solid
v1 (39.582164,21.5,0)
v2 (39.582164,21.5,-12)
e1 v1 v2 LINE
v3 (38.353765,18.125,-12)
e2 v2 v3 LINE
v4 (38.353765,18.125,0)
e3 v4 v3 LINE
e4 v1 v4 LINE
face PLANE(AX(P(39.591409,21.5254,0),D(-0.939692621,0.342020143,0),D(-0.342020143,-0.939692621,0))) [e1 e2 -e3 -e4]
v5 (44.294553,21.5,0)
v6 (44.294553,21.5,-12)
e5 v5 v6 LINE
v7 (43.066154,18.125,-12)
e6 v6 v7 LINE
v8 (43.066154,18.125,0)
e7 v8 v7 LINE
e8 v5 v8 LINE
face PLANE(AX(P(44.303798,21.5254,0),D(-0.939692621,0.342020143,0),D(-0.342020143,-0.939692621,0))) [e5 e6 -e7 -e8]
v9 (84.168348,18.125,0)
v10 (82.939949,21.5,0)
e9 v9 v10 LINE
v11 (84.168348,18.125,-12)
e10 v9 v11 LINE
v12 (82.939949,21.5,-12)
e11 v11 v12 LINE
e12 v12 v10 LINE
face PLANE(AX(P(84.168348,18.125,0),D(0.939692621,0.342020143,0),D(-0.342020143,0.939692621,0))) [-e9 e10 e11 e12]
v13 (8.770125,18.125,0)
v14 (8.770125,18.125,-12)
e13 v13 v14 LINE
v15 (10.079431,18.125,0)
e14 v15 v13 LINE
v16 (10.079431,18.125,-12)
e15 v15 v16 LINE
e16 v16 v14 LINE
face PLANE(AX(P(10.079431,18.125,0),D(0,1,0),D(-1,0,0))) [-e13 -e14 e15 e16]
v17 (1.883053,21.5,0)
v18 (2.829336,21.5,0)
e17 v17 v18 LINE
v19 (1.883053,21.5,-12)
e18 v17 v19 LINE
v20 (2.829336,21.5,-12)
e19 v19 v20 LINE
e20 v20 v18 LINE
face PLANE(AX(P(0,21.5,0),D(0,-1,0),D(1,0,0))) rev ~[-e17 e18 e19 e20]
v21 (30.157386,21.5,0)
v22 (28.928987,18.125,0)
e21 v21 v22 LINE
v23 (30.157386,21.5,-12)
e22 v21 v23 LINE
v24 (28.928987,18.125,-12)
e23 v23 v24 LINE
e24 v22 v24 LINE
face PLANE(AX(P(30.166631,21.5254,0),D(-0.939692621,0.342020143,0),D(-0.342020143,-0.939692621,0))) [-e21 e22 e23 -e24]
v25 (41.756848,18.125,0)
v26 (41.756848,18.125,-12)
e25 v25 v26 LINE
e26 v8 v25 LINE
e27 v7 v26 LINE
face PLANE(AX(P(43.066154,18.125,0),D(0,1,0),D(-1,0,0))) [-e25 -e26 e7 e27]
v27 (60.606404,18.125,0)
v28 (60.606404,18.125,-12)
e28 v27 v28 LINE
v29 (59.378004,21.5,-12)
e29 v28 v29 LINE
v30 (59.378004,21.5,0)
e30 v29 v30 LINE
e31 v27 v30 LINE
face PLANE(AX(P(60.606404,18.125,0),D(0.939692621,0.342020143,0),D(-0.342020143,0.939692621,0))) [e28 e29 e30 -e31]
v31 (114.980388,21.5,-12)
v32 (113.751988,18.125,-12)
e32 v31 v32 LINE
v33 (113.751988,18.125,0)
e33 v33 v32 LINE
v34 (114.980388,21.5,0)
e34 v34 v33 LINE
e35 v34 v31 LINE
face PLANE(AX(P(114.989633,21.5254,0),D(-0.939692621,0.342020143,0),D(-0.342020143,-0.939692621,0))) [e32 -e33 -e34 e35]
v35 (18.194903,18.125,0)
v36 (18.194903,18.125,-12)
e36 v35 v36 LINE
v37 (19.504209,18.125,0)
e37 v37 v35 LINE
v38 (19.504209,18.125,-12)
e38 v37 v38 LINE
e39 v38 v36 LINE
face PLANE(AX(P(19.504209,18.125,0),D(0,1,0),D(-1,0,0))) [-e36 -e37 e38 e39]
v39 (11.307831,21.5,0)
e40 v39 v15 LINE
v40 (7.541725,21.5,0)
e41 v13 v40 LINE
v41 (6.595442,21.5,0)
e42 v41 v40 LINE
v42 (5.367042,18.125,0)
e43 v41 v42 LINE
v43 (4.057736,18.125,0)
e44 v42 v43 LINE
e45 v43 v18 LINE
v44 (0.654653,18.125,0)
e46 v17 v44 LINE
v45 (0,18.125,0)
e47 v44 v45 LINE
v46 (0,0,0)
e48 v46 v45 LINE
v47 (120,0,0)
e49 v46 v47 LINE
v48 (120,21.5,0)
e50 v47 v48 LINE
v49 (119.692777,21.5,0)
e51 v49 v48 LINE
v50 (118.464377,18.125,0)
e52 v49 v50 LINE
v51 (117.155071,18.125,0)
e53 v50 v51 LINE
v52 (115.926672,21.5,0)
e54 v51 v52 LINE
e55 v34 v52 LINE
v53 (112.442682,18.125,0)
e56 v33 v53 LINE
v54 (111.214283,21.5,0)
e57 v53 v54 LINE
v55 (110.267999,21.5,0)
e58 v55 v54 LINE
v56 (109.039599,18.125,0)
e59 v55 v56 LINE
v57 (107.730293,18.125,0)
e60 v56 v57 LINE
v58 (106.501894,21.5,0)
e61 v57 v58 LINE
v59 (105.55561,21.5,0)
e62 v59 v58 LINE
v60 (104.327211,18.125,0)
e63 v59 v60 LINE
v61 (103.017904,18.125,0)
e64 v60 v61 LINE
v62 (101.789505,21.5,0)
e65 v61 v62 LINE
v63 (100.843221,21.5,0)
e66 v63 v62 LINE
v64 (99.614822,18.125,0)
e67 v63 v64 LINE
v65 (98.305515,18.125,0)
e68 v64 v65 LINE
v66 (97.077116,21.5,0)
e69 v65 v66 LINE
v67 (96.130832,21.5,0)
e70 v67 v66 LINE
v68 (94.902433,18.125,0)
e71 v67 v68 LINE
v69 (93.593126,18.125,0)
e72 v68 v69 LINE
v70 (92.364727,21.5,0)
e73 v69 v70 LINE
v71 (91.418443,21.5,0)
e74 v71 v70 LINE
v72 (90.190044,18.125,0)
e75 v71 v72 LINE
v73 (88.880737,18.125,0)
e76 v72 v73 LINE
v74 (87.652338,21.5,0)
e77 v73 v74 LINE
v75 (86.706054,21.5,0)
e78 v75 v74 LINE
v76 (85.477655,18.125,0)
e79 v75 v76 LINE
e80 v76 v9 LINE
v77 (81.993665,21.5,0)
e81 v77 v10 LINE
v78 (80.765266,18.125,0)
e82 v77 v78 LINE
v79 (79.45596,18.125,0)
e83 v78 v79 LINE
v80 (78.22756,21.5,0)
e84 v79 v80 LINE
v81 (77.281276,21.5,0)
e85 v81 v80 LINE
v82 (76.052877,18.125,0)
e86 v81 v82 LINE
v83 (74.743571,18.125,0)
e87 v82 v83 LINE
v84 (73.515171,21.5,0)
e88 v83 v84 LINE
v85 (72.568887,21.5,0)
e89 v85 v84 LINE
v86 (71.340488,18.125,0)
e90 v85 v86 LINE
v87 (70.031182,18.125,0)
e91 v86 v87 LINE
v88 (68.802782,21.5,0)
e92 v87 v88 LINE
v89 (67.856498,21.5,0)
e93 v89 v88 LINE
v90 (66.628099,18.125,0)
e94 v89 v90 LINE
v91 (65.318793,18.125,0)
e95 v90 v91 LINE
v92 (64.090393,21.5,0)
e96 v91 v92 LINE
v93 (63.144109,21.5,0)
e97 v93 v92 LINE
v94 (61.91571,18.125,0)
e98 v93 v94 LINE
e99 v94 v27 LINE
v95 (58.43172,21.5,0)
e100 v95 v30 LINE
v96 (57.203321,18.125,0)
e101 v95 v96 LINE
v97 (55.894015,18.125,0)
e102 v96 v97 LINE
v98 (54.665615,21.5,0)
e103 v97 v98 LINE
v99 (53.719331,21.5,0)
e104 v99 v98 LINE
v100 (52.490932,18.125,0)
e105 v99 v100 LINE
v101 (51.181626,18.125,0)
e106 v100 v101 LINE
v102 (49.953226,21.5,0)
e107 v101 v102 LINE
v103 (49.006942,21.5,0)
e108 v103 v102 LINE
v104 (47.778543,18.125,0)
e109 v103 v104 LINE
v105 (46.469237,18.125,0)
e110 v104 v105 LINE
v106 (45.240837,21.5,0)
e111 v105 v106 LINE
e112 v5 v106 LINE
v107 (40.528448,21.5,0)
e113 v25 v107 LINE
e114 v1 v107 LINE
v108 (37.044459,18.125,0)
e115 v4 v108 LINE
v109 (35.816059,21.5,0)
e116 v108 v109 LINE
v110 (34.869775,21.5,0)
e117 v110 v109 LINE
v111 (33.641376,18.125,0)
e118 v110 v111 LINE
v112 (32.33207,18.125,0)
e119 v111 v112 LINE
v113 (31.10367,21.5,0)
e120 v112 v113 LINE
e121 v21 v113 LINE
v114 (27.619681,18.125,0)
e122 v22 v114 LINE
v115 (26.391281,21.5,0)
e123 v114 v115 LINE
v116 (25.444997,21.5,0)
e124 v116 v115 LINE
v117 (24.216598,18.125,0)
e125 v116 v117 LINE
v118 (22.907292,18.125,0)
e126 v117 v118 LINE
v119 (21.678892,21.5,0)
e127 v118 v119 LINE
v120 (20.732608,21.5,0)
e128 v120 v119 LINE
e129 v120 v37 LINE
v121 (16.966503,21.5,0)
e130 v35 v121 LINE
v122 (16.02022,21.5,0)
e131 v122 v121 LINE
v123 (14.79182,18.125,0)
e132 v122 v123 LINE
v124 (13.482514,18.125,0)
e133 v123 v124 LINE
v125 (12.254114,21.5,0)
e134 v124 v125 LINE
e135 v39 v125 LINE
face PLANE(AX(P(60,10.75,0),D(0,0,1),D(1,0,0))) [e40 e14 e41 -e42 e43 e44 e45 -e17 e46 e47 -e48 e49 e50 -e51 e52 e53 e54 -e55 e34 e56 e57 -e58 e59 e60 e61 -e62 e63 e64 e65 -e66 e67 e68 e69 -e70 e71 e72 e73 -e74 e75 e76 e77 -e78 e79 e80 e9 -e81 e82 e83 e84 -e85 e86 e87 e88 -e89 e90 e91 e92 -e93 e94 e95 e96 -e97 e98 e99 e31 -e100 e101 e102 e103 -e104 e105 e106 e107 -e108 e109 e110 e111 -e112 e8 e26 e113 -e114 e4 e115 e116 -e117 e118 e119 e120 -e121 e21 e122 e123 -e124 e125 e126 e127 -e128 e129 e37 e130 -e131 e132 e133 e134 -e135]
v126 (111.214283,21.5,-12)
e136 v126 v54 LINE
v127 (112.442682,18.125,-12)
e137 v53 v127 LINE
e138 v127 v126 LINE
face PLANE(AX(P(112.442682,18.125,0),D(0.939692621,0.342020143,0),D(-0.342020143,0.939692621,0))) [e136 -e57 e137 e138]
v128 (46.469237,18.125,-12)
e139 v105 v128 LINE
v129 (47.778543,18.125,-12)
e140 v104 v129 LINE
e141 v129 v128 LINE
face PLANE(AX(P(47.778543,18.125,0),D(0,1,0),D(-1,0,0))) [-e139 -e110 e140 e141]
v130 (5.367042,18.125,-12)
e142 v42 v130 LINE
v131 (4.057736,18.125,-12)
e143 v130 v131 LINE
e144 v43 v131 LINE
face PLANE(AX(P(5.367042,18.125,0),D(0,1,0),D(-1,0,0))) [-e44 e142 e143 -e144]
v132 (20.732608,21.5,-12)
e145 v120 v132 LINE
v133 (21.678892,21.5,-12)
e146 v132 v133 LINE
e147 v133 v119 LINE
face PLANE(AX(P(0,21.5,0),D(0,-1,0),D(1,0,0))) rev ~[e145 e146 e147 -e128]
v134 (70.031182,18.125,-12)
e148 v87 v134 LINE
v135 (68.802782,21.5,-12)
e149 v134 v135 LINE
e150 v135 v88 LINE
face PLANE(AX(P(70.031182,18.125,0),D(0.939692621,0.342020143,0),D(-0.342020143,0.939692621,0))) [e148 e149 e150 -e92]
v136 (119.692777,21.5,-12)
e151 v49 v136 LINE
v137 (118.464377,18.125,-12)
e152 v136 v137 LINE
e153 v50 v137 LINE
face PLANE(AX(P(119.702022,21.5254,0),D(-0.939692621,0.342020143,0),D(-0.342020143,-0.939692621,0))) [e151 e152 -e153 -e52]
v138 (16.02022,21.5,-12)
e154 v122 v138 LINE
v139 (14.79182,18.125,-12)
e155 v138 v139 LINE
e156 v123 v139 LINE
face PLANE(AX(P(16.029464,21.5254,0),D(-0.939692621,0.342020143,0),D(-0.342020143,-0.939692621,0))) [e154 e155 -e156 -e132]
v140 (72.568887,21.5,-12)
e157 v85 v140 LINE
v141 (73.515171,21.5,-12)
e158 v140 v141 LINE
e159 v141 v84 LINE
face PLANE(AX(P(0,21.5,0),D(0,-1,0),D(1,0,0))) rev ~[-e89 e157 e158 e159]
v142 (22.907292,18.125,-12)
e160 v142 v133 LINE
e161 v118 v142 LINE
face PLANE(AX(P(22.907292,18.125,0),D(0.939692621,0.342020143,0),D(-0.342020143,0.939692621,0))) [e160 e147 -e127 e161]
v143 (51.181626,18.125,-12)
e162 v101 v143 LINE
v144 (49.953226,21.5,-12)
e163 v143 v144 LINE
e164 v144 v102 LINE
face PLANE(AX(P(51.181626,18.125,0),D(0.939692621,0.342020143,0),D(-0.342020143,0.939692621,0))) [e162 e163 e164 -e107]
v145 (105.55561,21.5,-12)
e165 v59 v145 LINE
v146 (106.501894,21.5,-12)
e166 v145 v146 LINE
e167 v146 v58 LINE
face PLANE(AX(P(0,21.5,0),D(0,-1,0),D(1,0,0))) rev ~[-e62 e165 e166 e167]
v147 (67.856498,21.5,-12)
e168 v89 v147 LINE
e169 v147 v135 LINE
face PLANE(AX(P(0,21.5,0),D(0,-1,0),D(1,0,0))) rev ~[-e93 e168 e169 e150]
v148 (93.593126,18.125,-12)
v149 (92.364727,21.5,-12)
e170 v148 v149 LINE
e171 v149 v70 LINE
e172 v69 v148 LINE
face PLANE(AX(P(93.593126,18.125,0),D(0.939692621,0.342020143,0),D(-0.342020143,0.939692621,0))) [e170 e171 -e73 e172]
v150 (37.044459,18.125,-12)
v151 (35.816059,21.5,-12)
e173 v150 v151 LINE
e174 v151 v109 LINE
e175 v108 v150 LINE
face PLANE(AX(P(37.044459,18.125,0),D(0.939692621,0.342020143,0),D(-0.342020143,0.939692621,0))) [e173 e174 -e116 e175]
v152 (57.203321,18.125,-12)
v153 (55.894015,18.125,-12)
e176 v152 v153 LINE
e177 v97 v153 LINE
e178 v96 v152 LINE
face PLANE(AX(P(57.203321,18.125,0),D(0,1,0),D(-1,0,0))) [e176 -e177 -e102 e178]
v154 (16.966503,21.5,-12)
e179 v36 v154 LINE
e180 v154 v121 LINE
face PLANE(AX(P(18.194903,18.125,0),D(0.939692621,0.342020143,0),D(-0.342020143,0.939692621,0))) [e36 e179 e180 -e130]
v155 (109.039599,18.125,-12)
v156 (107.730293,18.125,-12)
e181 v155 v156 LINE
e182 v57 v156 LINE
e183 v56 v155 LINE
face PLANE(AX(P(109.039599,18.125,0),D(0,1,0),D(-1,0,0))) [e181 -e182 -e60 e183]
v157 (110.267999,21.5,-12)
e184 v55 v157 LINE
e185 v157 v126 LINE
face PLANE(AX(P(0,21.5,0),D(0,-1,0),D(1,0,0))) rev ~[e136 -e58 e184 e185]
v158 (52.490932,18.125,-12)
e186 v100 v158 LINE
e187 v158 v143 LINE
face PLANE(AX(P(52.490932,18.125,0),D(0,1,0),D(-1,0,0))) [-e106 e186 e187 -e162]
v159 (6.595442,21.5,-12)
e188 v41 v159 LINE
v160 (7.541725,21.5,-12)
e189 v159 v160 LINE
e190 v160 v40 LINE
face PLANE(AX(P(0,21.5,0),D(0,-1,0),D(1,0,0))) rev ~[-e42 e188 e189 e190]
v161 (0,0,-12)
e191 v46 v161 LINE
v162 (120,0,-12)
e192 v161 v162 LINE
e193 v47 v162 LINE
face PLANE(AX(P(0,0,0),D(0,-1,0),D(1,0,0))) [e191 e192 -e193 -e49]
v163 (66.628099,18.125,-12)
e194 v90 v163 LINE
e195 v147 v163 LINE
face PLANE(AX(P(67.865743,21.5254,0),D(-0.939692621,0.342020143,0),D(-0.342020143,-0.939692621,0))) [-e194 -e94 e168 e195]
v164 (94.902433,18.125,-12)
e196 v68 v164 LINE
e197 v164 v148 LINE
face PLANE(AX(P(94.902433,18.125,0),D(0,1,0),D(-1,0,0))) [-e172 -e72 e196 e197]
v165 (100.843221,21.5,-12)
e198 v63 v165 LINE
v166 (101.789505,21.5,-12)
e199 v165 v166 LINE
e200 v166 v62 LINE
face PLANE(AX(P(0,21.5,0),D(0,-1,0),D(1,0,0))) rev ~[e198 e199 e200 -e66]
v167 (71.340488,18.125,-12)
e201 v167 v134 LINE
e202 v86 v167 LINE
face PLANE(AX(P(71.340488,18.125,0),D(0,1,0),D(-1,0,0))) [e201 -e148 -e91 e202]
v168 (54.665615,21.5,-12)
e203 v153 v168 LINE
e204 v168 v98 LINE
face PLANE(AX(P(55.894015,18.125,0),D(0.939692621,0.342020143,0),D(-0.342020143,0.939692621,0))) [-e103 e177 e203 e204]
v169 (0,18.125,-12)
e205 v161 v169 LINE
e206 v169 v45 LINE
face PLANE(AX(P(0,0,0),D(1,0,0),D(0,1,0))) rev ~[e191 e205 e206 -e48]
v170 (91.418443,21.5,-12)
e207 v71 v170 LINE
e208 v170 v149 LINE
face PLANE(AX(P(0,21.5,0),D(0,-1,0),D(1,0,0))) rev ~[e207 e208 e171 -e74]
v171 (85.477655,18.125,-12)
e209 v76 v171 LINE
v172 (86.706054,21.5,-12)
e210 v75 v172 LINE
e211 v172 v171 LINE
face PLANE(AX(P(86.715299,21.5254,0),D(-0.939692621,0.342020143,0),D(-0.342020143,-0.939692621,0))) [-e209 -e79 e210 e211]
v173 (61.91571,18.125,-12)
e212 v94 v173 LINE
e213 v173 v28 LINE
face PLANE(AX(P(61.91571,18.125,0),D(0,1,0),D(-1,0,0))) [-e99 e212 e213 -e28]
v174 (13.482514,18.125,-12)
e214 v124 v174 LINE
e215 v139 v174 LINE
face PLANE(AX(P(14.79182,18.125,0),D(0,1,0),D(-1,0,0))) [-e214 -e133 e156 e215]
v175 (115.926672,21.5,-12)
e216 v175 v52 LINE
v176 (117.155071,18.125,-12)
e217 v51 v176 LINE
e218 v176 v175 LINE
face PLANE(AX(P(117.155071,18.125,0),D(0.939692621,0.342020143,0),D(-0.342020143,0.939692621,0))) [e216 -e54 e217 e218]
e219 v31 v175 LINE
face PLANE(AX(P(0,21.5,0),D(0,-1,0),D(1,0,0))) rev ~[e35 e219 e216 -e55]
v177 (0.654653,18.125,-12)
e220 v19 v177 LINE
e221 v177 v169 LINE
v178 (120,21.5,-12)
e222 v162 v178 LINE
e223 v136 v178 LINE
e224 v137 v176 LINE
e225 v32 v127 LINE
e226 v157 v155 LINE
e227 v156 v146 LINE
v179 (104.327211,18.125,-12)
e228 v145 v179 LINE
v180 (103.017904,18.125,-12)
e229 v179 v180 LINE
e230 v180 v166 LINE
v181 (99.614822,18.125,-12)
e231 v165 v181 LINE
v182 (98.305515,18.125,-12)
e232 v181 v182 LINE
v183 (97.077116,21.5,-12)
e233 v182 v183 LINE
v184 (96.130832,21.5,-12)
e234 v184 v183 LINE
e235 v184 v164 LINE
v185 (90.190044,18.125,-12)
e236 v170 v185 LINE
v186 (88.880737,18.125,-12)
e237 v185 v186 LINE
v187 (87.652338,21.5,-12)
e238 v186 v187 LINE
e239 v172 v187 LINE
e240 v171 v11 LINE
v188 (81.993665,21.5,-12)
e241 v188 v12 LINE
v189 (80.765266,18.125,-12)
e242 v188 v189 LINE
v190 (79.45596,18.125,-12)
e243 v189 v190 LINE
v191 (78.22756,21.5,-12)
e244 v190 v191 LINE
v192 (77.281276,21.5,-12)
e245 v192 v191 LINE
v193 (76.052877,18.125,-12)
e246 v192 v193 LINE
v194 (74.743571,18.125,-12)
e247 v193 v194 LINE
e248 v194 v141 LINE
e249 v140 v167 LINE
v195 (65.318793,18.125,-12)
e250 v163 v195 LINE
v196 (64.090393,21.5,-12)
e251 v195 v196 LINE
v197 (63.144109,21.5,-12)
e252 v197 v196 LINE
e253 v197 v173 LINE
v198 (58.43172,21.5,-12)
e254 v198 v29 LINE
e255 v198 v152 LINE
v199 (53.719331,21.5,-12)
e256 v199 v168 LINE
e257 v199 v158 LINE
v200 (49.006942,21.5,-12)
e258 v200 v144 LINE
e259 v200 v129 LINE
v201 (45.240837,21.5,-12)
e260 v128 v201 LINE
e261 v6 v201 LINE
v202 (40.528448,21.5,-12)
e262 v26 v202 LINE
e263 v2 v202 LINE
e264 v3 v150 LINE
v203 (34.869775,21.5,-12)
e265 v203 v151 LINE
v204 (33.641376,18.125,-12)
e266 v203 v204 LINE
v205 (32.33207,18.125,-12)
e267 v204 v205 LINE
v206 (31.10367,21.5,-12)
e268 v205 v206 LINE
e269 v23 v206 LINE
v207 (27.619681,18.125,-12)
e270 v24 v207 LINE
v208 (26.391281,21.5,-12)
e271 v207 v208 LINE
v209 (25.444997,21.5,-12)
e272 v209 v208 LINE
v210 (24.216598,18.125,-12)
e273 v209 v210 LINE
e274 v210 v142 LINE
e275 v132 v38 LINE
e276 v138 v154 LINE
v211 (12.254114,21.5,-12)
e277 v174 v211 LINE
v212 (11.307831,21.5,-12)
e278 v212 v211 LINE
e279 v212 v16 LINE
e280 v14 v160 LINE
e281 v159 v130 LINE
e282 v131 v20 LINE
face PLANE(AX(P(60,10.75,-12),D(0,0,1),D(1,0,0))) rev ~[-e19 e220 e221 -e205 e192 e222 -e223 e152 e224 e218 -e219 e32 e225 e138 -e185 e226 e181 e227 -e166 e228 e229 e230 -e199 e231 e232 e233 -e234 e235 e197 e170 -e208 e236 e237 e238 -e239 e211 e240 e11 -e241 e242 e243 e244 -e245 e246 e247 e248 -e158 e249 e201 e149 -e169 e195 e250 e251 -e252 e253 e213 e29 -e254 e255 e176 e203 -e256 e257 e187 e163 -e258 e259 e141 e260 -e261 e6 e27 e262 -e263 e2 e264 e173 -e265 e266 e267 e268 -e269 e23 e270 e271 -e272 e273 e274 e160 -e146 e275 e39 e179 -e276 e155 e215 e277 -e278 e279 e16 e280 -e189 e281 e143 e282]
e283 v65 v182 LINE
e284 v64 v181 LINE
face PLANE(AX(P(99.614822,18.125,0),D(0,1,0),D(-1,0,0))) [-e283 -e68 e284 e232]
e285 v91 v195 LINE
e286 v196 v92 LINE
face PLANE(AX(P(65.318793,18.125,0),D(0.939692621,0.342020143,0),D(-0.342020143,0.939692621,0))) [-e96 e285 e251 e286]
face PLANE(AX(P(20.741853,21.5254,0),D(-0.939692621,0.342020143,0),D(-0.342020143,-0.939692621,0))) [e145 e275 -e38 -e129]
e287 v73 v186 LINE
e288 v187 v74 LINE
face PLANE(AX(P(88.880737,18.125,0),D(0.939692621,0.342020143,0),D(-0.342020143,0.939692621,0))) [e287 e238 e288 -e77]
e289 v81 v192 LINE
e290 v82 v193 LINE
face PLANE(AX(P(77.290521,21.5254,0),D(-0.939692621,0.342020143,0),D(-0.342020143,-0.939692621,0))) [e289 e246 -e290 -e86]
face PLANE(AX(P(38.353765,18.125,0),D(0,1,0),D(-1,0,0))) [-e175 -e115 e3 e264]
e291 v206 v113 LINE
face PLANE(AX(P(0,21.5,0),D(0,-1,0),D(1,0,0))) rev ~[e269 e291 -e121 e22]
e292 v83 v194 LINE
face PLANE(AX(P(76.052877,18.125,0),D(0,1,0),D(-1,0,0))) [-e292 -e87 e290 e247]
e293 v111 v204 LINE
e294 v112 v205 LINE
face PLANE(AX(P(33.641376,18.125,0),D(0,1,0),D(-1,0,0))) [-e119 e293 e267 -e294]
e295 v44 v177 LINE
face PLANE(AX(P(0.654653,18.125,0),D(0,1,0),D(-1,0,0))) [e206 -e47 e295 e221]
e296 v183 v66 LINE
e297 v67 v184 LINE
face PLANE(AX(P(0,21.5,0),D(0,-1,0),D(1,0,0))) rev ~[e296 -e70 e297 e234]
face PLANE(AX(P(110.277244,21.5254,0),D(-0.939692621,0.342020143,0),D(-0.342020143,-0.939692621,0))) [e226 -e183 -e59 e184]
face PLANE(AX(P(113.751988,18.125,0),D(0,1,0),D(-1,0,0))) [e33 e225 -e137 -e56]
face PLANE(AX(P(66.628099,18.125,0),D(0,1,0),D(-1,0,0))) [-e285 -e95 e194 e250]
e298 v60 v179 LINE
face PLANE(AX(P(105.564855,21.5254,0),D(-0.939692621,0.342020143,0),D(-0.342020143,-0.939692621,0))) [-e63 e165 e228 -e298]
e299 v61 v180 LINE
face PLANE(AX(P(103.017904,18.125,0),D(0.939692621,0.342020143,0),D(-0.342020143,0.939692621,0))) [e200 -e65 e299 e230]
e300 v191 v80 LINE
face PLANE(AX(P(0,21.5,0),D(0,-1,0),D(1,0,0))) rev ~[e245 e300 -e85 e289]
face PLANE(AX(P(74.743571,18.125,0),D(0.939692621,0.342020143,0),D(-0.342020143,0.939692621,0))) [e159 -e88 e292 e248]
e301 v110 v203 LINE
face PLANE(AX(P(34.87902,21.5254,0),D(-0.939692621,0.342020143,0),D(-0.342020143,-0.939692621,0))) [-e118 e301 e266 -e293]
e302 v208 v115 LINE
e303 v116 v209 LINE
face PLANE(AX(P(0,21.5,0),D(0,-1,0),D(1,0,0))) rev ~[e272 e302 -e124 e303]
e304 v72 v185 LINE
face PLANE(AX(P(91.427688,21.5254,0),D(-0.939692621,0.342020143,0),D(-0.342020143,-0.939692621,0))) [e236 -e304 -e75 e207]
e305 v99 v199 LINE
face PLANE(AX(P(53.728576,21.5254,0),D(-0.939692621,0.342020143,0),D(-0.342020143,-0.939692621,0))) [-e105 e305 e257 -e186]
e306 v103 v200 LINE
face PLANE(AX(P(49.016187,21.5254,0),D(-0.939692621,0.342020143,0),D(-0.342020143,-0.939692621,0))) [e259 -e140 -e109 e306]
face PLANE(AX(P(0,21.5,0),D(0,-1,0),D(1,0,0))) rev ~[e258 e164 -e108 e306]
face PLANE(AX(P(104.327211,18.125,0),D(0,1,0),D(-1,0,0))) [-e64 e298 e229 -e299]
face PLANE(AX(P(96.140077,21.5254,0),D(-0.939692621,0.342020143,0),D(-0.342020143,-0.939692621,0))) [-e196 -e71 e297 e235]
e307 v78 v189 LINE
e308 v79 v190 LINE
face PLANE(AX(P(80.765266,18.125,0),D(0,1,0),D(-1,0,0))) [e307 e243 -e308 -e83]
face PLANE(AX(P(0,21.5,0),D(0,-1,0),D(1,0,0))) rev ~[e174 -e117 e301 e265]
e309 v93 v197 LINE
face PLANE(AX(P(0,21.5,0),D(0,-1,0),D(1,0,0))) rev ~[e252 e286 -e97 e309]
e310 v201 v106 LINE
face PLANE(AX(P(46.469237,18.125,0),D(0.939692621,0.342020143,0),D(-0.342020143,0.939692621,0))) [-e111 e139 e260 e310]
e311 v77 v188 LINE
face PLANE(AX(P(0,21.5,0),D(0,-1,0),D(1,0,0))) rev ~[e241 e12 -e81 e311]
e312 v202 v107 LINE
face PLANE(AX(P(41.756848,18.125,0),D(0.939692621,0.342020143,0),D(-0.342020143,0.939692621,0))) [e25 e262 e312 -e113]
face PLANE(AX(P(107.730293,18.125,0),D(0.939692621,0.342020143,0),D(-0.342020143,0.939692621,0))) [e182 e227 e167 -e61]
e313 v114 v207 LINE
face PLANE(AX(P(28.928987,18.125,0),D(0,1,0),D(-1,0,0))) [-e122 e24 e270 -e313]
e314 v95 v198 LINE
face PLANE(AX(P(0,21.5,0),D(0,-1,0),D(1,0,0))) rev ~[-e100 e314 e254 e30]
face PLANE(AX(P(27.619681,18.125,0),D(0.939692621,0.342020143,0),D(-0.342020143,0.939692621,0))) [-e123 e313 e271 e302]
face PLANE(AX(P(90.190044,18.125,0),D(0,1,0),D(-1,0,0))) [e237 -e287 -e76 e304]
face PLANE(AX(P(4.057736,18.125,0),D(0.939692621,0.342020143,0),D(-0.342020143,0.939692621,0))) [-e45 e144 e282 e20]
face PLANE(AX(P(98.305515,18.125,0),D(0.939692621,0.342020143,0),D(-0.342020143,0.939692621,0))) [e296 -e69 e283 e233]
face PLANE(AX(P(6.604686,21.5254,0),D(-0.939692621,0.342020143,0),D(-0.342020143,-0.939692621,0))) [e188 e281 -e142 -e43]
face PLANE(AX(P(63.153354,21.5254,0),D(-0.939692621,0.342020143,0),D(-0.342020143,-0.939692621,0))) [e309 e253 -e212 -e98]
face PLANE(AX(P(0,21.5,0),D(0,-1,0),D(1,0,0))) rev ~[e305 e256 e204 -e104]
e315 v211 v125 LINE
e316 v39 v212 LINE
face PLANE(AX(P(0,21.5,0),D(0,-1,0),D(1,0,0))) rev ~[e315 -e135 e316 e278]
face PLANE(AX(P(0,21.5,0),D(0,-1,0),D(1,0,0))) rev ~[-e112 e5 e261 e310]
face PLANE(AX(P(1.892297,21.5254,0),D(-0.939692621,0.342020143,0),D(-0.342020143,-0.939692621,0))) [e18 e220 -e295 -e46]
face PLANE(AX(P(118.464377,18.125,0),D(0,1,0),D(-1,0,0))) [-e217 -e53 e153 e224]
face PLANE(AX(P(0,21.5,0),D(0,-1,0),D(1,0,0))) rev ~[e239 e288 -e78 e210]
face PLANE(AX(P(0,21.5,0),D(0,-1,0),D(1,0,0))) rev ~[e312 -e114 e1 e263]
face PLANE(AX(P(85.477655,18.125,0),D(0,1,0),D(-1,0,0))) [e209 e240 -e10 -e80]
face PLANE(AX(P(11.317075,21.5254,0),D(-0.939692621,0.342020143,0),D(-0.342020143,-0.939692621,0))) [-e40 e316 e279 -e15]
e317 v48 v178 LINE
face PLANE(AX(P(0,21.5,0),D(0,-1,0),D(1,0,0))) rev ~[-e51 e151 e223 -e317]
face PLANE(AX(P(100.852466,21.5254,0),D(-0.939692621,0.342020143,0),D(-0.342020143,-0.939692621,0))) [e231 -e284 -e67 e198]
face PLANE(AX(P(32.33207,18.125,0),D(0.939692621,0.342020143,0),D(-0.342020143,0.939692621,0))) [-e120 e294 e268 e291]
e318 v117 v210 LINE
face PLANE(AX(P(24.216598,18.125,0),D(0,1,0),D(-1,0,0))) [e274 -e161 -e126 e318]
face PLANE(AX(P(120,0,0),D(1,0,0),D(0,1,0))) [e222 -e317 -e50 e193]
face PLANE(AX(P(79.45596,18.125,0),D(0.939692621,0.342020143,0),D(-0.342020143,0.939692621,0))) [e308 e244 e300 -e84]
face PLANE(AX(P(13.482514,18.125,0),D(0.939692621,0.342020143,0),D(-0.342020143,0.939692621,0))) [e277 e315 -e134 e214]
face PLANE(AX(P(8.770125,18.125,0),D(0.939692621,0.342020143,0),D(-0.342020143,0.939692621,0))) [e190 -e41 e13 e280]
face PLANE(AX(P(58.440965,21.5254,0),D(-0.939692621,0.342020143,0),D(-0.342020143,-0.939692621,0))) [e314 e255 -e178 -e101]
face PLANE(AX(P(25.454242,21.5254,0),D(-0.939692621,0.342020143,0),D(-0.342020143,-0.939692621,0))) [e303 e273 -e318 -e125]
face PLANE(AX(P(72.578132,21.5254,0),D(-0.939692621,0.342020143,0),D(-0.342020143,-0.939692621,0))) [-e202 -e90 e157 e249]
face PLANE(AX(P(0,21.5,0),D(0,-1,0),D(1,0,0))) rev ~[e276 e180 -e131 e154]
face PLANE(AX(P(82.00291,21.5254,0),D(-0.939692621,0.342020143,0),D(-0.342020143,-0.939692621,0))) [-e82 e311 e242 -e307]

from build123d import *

# Parameters (mm, degrees)
BLANKSKE_W        = 120
BLANKSKE_H        = 21.5
BLANK_DEPTH       = 12
TOOTHCUTSIM_DEPTH = 123.5
TEETHCUTS_COUNT   = 26
TEETHCUTS_PITCH   = 4.712388975


with BuildPart() as part:
    # BlankSke → Blank (new body)
    with BuildSketch(Plane.XY):
        with Locations((60, 10.75)):
            Rectangle(BLANKSKE_W, BLANKSKE_H)
    extrude(amount=-BLANK_DEPTH)

    # TooCutSkeSim → ToothCutSim (cut, through all)
    with BuildSketch(Plane.XY):
        Polygon((0.654653055, 18.125), (-0.654653055, 18.125), (-1.892297439, 21.5254), (1.892297439, 21.5254), align=None)
    toothcutsim = extrude(amount=-TOOTHCUTSIM_DEPTH, mode=Mode.SUBTRACT)

    # TeethCuts: ToothCutSim ×26
    with Locations(*[(i * TEETHCUTS_PITCH, 0, 0) for i in range(1, TEETHCUTS_COUNT)]):
        add(toothcutsim, mode=Mode.SUBTRACT)


solid = part.part
